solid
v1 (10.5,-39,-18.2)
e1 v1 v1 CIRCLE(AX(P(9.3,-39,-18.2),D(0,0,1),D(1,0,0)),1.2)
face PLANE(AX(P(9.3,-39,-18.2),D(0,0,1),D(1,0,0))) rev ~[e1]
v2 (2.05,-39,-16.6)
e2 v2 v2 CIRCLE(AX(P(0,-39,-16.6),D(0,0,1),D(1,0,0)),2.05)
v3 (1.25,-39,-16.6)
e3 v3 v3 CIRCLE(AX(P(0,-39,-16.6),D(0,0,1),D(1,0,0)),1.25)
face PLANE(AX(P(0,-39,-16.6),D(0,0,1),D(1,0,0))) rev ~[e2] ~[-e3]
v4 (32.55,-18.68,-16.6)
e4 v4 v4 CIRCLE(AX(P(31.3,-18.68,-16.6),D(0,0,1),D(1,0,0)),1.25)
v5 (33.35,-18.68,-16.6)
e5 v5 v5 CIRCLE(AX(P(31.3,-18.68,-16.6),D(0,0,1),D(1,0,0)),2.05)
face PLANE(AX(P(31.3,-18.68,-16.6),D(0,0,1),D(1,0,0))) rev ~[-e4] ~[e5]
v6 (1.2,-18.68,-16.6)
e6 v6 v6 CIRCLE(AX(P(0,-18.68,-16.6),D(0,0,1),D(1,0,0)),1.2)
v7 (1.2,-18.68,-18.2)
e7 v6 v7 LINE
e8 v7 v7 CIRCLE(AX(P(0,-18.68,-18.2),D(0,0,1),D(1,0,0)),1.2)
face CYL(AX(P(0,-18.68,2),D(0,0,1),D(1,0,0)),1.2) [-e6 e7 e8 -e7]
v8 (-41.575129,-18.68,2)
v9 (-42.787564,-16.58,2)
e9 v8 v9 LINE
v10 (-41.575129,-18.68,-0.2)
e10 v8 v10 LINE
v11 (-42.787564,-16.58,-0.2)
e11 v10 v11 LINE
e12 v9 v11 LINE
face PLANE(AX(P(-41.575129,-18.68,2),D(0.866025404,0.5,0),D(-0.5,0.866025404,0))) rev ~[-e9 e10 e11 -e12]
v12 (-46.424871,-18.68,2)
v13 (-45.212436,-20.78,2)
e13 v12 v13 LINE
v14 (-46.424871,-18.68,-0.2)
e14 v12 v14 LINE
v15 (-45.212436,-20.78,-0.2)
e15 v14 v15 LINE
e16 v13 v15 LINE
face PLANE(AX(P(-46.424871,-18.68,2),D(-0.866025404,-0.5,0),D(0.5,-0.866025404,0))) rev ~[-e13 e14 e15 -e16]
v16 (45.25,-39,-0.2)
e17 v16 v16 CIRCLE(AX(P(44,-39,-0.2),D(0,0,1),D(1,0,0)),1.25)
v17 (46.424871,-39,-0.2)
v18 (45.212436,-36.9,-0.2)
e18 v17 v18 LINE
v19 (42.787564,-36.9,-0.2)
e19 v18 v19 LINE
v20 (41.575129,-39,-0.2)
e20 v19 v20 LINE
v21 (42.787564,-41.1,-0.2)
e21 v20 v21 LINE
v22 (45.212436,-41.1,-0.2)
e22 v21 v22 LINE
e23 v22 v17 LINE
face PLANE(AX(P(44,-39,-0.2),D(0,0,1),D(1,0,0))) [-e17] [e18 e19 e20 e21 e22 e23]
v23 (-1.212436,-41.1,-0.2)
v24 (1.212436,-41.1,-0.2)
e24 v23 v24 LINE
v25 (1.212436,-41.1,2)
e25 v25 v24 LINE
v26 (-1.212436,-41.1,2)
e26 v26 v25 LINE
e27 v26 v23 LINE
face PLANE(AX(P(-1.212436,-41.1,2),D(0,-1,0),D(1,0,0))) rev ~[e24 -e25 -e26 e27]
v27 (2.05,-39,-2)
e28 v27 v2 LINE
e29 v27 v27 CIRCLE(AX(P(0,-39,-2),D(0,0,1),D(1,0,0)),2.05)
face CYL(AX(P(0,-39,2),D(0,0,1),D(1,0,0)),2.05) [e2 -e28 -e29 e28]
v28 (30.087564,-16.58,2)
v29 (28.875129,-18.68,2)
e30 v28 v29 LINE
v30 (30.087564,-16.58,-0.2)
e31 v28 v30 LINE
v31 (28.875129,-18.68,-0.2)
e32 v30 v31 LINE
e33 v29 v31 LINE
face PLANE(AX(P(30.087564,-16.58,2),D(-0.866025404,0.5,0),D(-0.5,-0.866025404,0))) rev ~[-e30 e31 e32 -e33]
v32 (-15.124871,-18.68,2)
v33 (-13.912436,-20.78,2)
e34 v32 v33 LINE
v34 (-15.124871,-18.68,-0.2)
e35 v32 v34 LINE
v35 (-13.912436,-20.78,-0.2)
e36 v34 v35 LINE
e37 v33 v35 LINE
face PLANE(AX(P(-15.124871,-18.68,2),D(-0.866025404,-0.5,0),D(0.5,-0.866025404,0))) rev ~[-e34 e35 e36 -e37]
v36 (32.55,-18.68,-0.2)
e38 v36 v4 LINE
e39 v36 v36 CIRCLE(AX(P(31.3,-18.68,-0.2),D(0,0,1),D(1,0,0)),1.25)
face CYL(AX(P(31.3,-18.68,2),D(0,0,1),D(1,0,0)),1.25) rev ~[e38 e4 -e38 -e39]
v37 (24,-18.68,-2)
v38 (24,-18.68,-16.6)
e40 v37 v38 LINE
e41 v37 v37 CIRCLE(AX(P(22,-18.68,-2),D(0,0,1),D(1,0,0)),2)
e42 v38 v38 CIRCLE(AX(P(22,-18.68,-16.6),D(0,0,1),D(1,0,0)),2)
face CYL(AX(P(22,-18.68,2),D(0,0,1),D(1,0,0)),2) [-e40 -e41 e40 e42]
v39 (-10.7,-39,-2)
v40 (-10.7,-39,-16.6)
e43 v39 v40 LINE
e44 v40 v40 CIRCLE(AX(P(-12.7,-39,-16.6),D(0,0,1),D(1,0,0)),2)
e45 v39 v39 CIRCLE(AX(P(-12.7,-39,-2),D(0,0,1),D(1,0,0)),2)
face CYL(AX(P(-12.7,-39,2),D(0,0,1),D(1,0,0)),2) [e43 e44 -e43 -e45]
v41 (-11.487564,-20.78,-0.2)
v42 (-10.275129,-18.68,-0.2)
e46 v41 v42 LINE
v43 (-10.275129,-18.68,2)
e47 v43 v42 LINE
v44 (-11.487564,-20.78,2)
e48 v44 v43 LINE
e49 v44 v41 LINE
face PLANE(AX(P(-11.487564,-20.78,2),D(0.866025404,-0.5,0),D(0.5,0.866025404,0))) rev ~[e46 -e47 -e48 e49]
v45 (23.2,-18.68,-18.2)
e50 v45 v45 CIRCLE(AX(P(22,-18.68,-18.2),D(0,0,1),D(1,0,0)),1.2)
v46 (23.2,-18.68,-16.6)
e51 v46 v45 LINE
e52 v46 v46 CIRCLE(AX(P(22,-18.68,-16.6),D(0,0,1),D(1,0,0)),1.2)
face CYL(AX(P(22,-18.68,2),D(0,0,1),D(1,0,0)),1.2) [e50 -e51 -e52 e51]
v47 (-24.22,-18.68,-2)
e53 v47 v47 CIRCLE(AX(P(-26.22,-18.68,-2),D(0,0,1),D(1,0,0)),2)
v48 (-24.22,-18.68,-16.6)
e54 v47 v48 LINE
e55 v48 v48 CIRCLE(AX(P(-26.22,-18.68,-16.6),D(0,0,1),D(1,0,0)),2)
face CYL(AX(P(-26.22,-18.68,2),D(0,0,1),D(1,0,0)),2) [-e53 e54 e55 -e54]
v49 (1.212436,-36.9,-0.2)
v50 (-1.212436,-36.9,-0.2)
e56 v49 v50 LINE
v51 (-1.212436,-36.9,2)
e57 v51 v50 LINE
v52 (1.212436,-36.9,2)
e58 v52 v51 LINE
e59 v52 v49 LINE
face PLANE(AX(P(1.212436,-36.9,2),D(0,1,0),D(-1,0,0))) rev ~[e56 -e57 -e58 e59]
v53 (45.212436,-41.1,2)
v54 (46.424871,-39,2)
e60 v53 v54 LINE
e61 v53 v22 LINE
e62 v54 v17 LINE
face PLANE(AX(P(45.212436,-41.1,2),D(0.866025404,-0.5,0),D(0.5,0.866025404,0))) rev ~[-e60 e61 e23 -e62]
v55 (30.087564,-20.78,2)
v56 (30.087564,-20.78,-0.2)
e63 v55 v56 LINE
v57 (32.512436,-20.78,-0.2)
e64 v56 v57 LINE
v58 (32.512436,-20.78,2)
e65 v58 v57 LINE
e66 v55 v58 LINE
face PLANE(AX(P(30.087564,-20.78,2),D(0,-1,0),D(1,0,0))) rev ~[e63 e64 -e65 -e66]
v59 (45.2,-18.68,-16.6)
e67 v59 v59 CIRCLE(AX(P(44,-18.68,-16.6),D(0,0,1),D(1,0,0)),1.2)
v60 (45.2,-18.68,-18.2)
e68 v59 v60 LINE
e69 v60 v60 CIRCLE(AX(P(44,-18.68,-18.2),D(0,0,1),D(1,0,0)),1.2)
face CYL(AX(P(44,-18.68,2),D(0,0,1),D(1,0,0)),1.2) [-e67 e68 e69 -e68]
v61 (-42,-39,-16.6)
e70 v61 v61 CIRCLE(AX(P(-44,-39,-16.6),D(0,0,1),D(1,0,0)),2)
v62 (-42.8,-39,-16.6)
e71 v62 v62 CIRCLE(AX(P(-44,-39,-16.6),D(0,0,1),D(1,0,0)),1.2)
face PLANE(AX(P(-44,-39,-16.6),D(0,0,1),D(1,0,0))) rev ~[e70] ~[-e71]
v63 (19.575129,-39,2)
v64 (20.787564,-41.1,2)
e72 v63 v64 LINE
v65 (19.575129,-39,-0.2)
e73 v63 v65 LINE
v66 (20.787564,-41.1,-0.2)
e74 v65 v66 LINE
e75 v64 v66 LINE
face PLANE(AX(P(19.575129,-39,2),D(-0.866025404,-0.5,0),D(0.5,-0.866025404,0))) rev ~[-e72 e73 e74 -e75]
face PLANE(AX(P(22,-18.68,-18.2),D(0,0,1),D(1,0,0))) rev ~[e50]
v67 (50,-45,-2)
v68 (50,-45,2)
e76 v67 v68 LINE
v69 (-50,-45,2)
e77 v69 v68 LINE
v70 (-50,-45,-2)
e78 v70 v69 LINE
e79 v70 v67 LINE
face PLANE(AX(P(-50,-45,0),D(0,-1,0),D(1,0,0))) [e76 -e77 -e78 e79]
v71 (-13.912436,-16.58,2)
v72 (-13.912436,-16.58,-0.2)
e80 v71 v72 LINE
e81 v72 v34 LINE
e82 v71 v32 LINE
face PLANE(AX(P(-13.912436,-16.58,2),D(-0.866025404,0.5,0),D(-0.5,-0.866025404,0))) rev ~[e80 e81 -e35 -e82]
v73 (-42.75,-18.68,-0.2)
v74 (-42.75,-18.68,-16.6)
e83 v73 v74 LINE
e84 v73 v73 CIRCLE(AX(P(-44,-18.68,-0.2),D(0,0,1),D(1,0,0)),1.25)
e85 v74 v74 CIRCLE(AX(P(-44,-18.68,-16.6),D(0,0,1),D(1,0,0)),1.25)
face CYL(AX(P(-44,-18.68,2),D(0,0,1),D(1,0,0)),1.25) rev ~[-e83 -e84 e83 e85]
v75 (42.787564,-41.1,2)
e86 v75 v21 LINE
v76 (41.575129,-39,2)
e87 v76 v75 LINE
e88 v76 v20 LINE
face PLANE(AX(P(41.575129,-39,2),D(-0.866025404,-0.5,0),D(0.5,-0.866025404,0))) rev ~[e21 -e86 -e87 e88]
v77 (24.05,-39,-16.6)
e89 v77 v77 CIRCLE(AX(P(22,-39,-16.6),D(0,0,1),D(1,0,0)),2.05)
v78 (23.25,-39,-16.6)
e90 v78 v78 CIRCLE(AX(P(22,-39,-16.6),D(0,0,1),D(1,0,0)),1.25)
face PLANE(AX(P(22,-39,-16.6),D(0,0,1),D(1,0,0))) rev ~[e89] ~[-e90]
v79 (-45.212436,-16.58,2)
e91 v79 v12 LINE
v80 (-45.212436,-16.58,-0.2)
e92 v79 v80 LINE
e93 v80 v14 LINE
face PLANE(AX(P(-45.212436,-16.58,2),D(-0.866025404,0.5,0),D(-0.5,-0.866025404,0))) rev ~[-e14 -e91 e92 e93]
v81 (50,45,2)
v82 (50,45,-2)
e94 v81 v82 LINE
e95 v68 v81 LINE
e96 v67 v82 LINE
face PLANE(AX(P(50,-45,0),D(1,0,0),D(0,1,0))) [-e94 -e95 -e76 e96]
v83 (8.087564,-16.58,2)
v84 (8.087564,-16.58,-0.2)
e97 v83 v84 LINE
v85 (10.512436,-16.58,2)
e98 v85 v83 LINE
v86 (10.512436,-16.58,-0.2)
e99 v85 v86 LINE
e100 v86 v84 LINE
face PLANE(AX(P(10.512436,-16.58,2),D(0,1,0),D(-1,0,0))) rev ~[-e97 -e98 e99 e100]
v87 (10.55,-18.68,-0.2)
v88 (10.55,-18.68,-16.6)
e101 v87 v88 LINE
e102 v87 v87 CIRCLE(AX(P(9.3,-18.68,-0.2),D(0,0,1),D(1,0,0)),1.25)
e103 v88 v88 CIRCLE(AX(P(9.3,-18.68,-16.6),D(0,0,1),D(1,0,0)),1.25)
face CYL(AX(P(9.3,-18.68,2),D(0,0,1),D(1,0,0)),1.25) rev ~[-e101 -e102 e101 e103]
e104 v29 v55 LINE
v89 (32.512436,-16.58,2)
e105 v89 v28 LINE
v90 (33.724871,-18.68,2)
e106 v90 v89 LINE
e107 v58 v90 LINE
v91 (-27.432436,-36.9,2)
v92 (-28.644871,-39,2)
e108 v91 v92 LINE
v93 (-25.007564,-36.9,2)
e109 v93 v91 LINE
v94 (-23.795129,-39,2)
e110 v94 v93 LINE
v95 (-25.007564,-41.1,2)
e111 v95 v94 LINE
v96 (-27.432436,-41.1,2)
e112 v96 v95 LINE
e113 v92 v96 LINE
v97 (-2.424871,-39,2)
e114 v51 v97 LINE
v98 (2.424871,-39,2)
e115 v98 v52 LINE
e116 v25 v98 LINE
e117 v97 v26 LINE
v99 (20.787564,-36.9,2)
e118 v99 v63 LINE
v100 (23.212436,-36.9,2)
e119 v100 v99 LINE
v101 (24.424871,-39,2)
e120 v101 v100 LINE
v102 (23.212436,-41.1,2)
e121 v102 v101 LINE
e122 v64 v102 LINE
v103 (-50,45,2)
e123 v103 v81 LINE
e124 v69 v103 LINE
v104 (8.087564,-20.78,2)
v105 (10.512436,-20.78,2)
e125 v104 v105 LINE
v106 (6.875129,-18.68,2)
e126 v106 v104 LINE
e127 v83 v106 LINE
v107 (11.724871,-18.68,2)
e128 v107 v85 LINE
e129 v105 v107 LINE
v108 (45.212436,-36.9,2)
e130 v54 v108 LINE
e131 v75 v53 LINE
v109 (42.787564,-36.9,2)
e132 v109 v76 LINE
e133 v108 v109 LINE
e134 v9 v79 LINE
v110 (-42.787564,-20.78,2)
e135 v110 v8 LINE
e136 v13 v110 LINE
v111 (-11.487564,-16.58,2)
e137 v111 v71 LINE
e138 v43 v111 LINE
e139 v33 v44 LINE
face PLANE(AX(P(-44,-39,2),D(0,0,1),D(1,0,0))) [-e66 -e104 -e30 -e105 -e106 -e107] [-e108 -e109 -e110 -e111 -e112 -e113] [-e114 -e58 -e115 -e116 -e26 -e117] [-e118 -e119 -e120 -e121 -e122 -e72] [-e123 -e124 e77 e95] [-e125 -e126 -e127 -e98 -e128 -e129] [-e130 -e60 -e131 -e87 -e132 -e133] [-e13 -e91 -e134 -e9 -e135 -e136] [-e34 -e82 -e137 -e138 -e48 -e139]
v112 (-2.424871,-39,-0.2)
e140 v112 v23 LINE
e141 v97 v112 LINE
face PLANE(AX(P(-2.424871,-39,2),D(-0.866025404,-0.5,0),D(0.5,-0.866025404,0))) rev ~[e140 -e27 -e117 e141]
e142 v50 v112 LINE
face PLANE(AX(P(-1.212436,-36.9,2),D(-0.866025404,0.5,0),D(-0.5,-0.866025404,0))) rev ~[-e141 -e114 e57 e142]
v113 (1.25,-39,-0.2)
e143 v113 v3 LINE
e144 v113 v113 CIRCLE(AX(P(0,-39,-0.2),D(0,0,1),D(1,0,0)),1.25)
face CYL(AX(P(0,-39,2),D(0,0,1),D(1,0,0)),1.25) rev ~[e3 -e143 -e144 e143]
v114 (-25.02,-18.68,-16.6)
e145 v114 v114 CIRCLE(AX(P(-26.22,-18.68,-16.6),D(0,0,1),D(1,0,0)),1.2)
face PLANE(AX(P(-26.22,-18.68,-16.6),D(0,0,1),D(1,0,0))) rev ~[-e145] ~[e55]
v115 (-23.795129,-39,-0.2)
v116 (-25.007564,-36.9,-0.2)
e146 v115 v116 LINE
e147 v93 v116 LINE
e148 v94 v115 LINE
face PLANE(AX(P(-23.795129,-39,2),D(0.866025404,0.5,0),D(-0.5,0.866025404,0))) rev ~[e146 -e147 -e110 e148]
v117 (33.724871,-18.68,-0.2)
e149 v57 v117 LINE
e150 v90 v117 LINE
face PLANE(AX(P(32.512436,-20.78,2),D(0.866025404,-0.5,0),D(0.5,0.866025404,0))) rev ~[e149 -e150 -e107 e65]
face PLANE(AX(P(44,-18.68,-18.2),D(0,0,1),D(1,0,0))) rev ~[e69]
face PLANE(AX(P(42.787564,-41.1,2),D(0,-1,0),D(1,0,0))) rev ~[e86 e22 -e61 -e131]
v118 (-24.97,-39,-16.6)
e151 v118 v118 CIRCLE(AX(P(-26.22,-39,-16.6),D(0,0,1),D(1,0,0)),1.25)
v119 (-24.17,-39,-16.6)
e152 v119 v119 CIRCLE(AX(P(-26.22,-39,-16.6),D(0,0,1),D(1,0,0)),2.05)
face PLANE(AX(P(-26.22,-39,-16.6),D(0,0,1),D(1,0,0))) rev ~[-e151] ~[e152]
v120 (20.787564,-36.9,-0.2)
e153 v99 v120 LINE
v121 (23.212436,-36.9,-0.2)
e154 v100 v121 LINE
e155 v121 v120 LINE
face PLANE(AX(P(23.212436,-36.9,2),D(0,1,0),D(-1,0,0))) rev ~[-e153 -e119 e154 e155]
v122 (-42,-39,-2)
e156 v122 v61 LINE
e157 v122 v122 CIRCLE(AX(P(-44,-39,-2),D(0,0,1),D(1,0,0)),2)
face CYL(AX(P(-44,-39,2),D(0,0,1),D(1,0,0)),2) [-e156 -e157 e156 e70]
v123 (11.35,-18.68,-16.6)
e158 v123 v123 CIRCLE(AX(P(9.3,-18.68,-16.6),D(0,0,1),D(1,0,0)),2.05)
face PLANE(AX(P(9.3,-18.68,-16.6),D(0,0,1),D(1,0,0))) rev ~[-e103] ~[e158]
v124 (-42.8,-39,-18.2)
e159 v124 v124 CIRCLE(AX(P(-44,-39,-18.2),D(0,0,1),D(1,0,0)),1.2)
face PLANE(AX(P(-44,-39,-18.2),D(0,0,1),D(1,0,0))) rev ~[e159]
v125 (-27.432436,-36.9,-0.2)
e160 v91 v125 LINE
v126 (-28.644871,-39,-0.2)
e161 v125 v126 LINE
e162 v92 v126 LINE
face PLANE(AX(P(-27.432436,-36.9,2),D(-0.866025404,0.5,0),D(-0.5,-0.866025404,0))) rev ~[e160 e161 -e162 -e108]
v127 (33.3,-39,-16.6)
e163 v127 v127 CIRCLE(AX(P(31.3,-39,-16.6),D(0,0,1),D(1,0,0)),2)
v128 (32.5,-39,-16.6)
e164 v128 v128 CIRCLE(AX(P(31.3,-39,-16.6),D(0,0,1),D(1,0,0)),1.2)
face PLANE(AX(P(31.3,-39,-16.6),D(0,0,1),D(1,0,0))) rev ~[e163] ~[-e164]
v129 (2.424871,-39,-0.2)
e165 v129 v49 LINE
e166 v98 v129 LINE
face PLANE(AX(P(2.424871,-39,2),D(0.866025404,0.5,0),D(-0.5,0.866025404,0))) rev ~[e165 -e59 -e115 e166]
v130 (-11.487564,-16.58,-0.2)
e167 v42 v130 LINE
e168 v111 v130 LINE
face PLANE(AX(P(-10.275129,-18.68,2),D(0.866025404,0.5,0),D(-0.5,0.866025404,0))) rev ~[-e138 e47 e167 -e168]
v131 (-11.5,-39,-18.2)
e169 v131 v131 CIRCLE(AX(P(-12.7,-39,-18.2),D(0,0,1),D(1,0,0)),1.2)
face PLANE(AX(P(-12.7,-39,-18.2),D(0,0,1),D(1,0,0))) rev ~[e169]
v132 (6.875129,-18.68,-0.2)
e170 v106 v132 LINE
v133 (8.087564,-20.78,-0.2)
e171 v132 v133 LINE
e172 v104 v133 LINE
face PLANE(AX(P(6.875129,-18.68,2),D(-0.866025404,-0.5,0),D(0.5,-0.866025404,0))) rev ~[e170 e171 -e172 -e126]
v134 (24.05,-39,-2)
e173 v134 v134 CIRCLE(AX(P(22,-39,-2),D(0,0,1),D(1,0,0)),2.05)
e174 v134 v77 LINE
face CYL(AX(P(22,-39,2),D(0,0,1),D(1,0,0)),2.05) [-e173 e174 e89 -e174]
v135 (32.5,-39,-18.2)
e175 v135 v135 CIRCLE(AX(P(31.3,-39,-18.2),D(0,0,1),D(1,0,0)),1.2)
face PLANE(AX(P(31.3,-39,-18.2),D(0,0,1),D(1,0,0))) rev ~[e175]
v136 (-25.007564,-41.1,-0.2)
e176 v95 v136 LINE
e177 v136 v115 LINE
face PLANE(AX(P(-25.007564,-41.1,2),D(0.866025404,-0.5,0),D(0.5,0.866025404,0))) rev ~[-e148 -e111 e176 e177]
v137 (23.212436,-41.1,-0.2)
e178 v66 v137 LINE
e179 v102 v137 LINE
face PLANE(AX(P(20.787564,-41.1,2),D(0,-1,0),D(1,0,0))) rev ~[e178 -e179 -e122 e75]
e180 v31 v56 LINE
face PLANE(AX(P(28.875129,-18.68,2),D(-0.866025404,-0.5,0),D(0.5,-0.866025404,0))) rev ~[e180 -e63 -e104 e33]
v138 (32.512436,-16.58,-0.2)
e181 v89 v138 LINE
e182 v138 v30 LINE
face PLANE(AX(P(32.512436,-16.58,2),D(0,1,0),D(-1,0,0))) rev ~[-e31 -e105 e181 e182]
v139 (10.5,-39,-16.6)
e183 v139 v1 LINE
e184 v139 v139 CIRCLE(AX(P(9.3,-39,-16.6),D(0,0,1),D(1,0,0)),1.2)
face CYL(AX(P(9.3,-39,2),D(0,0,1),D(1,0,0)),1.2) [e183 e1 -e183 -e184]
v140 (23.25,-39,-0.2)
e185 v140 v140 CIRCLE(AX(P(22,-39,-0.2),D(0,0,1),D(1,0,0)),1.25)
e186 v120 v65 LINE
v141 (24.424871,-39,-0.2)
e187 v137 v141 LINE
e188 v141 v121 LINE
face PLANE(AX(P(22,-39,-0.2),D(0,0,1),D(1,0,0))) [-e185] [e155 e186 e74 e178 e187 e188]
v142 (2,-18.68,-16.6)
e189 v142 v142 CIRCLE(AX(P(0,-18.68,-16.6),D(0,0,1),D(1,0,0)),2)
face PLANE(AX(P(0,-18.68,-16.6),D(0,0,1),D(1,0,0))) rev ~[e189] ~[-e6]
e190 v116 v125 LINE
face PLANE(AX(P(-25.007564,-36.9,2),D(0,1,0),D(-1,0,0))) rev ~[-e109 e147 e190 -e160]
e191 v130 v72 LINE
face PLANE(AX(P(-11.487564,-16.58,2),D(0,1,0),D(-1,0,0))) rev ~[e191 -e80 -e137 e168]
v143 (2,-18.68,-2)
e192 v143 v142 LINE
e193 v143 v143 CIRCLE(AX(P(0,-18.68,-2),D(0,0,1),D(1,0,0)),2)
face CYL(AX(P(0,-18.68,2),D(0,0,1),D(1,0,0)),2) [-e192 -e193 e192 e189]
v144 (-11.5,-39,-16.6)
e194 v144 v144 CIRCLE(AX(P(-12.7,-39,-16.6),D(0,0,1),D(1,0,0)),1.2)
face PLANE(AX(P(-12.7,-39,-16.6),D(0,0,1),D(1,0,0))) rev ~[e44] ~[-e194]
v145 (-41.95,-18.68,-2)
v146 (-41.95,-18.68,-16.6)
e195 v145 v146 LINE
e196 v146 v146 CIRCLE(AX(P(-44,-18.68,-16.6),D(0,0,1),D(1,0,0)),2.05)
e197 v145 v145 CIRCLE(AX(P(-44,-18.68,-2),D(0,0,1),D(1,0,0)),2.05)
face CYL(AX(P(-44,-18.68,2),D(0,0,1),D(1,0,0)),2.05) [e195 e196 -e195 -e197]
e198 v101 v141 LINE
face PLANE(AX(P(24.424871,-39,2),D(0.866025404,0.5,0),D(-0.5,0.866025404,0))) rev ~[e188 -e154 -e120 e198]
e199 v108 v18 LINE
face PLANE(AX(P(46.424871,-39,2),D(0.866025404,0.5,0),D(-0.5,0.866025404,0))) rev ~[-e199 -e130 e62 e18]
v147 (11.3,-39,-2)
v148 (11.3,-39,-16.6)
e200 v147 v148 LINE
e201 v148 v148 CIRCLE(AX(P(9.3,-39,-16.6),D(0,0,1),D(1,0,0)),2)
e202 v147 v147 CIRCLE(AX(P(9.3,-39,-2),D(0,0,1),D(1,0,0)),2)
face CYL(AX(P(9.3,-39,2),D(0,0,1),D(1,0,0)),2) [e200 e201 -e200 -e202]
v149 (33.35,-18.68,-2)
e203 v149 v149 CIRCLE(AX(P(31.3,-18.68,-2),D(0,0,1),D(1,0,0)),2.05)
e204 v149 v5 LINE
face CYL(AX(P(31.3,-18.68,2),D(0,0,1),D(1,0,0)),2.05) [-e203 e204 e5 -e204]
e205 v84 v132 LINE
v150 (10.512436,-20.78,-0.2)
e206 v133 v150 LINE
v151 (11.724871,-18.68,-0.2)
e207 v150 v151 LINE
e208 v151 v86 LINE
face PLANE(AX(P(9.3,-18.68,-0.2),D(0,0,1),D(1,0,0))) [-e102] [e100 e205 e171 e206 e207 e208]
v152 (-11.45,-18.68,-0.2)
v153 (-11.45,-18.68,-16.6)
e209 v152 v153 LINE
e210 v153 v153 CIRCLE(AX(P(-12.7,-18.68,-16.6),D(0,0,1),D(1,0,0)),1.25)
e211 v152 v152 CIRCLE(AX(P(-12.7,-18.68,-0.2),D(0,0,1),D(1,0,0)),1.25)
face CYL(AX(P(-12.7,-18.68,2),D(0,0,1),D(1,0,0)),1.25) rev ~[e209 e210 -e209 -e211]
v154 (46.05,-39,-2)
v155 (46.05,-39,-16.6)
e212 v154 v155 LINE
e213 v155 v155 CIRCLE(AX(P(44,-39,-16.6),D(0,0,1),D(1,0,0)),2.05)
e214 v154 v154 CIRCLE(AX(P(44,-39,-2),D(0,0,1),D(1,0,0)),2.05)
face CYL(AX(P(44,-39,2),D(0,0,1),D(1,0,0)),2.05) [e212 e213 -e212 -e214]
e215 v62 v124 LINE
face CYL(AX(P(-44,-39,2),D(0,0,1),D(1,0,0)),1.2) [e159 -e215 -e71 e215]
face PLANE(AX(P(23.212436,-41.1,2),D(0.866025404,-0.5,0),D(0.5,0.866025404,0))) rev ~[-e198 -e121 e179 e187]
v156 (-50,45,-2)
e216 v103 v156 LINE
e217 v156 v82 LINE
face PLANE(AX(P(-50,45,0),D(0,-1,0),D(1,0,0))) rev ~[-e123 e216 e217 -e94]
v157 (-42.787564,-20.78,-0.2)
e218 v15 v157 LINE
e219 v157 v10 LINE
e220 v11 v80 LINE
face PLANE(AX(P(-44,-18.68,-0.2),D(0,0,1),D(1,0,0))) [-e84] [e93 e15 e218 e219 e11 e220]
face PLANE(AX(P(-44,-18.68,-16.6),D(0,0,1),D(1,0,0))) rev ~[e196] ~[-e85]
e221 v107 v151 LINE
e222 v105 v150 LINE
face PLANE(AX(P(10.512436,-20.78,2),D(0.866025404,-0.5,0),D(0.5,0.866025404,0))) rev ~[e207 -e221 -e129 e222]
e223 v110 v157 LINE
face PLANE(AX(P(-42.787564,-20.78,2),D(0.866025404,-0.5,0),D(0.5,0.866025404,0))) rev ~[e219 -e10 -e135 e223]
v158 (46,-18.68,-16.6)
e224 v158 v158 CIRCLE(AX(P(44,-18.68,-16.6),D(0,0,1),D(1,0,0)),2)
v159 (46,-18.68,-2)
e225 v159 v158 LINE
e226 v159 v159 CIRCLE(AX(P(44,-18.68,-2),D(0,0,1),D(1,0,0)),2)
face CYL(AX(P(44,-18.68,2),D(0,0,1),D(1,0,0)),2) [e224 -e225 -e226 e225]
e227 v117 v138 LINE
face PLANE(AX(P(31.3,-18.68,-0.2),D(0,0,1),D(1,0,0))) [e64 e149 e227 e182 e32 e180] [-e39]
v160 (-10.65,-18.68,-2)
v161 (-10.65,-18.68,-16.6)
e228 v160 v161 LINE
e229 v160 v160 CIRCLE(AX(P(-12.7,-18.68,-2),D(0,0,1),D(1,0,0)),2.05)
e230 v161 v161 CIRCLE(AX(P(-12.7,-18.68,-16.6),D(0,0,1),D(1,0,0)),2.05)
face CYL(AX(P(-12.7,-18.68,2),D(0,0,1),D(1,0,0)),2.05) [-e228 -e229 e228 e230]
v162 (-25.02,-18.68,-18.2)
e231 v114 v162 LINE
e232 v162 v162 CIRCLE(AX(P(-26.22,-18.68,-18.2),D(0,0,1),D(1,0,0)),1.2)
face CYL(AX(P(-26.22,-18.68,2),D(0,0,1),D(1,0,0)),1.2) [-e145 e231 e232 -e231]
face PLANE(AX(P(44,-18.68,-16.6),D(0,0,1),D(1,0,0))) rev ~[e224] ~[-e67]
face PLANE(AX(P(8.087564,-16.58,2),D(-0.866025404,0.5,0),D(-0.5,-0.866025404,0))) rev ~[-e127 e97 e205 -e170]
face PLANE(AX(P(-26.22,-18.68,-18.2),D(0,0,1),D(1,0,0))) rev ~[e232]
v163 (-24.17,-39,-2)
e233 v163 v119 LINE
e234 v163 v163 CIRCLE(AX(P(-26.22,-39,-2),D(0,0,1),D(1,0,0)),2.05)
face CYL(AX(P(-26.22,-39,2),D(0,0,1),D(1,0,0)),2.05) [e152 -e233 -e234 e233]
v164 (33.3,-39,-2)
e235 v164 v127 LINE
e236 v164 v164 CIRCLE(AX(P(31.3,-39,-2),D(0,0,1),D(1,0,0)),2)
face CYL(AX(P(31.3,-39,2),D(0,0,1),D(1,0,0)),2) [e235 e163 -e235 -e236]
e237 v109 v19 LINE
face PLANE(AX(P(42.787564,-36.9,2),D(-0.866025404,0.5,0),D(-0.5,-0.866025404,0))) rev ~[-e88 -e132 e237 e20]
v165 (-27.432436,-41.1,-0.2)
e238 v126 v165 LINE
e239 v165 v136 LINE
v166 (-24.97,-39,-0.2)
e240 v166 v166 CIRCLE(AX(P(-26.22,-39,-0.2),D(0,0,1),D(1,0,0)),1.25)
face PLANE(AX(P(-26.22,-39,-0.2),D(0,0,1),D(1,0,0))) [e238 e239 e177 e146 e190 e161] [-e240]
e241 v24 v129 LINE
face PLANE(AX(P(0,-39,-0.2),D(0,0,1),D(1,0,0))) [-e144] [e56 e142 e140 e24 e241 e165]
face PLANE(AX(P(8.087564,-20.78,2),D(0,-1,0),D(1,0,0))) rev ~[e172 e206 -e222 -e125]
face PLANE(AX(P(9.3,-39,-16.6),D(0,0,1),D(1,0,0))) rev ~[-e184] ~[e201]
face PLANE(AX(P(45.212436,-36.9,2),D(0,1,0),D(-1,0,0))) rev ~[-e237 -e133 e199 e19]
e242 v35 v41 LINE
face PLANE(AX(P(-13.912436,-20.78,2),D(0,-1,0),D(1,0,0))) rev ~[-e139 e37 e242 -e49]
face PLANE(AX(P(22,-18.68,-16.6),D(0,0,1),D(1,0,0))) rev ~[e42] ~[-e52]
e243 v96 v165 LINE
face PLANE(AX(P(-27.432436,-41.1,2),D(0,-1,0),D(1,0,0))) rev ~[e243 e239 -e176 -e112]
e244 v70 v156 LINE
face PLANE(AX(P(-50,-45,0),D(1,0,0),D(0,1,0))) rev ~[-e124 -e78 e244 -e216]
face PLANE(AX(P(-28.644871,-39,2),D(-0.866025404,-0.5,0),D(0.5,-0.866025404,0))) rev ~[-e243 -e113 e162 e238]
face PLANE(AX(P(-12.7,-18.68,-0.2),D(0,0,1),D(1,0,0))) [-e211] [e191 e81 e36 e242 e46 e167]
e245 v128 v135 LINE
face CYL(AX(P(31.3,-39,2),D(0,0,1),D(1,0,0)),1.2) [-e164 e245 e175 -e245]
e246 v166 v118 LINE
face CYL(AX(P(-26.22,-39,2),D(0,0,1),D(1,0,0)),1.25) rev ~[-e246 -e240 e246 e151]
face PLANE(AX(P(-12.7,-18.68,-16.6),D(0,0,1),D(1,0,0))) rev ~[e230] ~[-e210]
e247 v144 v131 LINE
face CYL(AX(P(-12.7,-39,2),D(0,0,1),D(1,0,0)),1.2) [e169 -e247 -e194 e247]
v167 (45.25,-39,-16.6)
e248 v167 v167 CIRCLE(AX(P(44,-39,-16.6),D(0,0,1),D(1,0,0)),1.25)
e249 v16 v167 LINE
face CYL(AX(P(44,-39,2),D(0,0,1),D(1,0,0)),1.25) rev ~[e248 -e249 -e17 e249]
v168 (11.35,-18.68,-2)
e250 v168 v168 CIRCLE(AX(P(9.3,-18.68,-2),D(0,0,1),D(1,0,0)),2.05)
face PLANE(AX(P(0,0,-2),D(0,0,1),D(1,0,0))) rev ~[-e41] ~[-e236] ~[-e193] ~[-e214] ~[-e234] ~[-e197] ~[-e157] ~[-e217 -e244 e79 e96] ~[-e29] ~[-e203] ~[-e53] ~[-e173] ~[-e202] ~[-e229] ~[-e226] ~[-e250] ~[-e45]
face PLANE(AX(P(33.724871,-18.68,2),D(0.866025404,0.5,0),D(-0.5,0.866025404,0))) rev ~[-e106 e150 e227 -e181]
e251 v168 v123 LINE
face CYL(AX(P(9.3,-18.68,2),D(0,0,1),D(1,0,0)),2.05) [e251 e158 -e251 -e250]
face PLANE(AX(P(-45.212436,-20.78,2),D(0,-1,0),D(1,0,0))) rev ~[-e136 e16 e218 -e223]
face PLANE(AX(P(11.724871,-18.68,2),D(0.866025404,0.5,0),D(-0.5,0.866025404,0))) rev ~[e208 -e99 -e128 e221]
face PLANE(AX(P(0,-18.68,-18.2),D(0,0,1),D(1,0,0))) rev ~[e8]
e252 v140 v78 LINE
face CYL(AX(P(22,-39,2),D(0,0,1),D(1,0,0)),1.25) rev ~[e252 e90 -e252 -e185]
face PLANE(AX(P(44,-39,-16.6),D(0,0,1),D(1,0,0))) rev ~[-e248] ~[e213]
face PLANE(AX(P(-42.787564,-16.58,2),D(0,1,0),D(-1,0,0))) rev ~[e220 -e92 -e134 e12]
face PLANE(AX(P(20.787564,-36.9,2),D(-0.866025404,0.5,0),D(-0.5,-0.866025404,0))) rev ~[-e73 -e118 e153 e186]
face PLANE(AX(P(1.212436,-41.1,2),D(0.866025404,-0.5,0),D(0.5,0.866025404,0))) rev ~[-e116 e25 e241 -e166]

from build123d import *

# Parameters (mm, degrees)
SKETCH1_W           = 100
SKETCH1_H           = 90
BOSS_EXTRUDE1_DEPTH = 2
SKETCH2_R           = 2.05
SKETCH2_R_2         = 2
BOSS_EXTRUDE3_DEPTH = 18.6
SKETCH2_5_R         = 1.25
CUT_EXTRUDE1_DEPTH  = 70.792263182
SKETCH2_6_R         = 1.2
BOSS_EXTRUDE4_DEPTH = 20.2
CUT_EXTRUDE2_DEPTH  = 2.2
LPATTERN1_COUNT     = 3
LPATTERN1_PITCH     = 22
SKETCH4_R           = 2
SKETCH4_R_2         = 2.05
BOSS_EXTRUDE5_DEPTH = 18.6
SKETCH4_3_R         = 1.25
CUT_EXTRUDE3_DEPTH  = 71.235603507
SKETCH4_4_R         = 1.2
BOSS_EXTRUDE6_DEPTH = 20.2
CUT_EXTRUDE4_DEPTH  = 2.2


with BuildPart() as part:
    # Sketch1 → Boss-Extrude1 (new, symmetric)
    with BuildSketch(Plane.XY):
        Rectangle(SKETCH1_W, SKETCH1_H)
    extrude(amount=BOSS_EXTRUDE1_DEPTH, both=True)

    # Sketch2 → Boss-Extrude3 (add)
    with BuildSketch(Plane.XY.offset(2)):
        with Locations((31.3, -18.68)):
            Circle(SKETCH2_R)
        with Locations((44, -18.68)):
            Circle(SKETCH2_R_2)
        with Locations((31.3, -39)):
            Circle(SKETCH2_R_2)
        with Locations((44, -39)):
            Circle(SKETCH2_R)
    boss_extrude3 = extrude(amount=-BOSS_EXTRUDE3_DEPTH)

    # Sketch2<5> → Cut-Extrude1 (cut, through all)
    with BuildSketch(Plane.XY.offset(2)):
        with Locations((44, -39)):
            Circle(SKETCH2_5_R)
        with Locations((31.3, -18.68)):
            Circle(SKETCH2_5_R)
    cut_extrude1 = extrude(amount=-CUT_EXTRUDE1_DEPTH, mode=Mode.SUBTRACT)

    # Sketch2<6> → Boss-Extrude4 (add)
    with BuildSketch(Plane.XY.offset(2)):
        with Locations((44, -18.68)):
            Circle(SKETCH2_6_R)
        with Locations((31.3, -39)):
            Circle(SKETCH2_6_R)
    boss_extrude4 = extrude(amount=-BOSS_EXTRUDE4_DEPTH)

    # Sketch3 → Cut-Extrude2 (cut)
    with BuildSketch(Plane.XY.offset(2)):
        Polygon((30.087564435, -16.58), (28.875128869, -18.68), (30.087564435, -20.78), (32.512435565, -20.78), (33.724871131, -18.68), (32.512435565, -16.58), align=None)
        Polygon((42.787564435, -36.9), (41.575128869, -39), (42.787564435, -41.1), (45.212435565, -41.1), (46.424871131, -39), (45.212435565, -36.9), align=None)
    cut_extrude2 = extrude(amount=-CUT_EXTRUDE2_DEPTH, mode=Mode.SUBTRACT)

    # LPattern1: Boss-Extrude3, Cut-Extrude1, Boss-Extrude4, Cut-Extrude2 ×3
    with Locations(*[(-i * LPATTERN1_PITCH, 0, 0) for i in range(1, LPATTERN1_COUNT)]):
        add(boss_extrude3)
        add(cut_extrude1, mode=Mode.SUBTRACT)
        add(boss_extrude4)
        add(cut_extrude2, mode=Mode.SUBTRACT)

    # Sketch4 → Boss-Extrude5 (add)
    with BuildSketch(Plane.XY.offset(2)):
        with Locations((-44, -39)):
            Circle(SKETCH4_R)
        with Locations((-26.22, -39)):
            Circle(SKETCH4_R_2)
        with Locations((-44, -18.68)):
            Circle(SKETCH4_R_2)
        with Locations((-26.22, -18.68)):
            Circle(SKETCH4_R)
    extrude(amount=-BOSS_EXTRUDE5_DEPTH)

    # Sketch4<3> → Cut-Extrude3 (cut, through all)
    with BuildSketch(Plane.XY.offset(2)):
        with Locations((-26.22, -39)):
            Circle(SKETCH4_3_R)
        with Locations((-44, -18.68)):
            Circle(SKETCH4_3_R)
    extrude(amount=-CUT_EXTRUDE3_DEPTH, mode=Mode.SUBTRACT)

    # Sketch4<4> → Boss-Extrude6 (add)
    with BuildSketch(Plane.XY.offset(2)):
        with Locations((-44, -39)):
            Circle(SKETCH4_4_R)
        with Locations((-26.22, -18.68)):
            Circle(SKETCH4_4_R)
    extrude(amount=-BOSS_EXTRUDE6_DEPTH)

    # Sketch5 → Cut-Extrude4 (cut)
    with BuildSketch(Plane.XY.offset(2)):
        Polygon((-45.212435565, -16.58), (-46.424871131, -18.68), (-45.212435565, -20.78), (-42.787564435, -20.78), (-41.575128869, -18.68), (-42.787564435, -16.58), align=None)
        Polygon((-27.432435565, -36.9), (-28.644871131, -39), (-27.432435565, -41.1), (-25.007564435, -41.1), (-23.795128869, -39), (-25.007564435, -36.9), align=None)
    extrude(amount=-CUT_EXTRUDE4_DEPTH, mode=Mode.SUBTRACT)


solid = part.part
